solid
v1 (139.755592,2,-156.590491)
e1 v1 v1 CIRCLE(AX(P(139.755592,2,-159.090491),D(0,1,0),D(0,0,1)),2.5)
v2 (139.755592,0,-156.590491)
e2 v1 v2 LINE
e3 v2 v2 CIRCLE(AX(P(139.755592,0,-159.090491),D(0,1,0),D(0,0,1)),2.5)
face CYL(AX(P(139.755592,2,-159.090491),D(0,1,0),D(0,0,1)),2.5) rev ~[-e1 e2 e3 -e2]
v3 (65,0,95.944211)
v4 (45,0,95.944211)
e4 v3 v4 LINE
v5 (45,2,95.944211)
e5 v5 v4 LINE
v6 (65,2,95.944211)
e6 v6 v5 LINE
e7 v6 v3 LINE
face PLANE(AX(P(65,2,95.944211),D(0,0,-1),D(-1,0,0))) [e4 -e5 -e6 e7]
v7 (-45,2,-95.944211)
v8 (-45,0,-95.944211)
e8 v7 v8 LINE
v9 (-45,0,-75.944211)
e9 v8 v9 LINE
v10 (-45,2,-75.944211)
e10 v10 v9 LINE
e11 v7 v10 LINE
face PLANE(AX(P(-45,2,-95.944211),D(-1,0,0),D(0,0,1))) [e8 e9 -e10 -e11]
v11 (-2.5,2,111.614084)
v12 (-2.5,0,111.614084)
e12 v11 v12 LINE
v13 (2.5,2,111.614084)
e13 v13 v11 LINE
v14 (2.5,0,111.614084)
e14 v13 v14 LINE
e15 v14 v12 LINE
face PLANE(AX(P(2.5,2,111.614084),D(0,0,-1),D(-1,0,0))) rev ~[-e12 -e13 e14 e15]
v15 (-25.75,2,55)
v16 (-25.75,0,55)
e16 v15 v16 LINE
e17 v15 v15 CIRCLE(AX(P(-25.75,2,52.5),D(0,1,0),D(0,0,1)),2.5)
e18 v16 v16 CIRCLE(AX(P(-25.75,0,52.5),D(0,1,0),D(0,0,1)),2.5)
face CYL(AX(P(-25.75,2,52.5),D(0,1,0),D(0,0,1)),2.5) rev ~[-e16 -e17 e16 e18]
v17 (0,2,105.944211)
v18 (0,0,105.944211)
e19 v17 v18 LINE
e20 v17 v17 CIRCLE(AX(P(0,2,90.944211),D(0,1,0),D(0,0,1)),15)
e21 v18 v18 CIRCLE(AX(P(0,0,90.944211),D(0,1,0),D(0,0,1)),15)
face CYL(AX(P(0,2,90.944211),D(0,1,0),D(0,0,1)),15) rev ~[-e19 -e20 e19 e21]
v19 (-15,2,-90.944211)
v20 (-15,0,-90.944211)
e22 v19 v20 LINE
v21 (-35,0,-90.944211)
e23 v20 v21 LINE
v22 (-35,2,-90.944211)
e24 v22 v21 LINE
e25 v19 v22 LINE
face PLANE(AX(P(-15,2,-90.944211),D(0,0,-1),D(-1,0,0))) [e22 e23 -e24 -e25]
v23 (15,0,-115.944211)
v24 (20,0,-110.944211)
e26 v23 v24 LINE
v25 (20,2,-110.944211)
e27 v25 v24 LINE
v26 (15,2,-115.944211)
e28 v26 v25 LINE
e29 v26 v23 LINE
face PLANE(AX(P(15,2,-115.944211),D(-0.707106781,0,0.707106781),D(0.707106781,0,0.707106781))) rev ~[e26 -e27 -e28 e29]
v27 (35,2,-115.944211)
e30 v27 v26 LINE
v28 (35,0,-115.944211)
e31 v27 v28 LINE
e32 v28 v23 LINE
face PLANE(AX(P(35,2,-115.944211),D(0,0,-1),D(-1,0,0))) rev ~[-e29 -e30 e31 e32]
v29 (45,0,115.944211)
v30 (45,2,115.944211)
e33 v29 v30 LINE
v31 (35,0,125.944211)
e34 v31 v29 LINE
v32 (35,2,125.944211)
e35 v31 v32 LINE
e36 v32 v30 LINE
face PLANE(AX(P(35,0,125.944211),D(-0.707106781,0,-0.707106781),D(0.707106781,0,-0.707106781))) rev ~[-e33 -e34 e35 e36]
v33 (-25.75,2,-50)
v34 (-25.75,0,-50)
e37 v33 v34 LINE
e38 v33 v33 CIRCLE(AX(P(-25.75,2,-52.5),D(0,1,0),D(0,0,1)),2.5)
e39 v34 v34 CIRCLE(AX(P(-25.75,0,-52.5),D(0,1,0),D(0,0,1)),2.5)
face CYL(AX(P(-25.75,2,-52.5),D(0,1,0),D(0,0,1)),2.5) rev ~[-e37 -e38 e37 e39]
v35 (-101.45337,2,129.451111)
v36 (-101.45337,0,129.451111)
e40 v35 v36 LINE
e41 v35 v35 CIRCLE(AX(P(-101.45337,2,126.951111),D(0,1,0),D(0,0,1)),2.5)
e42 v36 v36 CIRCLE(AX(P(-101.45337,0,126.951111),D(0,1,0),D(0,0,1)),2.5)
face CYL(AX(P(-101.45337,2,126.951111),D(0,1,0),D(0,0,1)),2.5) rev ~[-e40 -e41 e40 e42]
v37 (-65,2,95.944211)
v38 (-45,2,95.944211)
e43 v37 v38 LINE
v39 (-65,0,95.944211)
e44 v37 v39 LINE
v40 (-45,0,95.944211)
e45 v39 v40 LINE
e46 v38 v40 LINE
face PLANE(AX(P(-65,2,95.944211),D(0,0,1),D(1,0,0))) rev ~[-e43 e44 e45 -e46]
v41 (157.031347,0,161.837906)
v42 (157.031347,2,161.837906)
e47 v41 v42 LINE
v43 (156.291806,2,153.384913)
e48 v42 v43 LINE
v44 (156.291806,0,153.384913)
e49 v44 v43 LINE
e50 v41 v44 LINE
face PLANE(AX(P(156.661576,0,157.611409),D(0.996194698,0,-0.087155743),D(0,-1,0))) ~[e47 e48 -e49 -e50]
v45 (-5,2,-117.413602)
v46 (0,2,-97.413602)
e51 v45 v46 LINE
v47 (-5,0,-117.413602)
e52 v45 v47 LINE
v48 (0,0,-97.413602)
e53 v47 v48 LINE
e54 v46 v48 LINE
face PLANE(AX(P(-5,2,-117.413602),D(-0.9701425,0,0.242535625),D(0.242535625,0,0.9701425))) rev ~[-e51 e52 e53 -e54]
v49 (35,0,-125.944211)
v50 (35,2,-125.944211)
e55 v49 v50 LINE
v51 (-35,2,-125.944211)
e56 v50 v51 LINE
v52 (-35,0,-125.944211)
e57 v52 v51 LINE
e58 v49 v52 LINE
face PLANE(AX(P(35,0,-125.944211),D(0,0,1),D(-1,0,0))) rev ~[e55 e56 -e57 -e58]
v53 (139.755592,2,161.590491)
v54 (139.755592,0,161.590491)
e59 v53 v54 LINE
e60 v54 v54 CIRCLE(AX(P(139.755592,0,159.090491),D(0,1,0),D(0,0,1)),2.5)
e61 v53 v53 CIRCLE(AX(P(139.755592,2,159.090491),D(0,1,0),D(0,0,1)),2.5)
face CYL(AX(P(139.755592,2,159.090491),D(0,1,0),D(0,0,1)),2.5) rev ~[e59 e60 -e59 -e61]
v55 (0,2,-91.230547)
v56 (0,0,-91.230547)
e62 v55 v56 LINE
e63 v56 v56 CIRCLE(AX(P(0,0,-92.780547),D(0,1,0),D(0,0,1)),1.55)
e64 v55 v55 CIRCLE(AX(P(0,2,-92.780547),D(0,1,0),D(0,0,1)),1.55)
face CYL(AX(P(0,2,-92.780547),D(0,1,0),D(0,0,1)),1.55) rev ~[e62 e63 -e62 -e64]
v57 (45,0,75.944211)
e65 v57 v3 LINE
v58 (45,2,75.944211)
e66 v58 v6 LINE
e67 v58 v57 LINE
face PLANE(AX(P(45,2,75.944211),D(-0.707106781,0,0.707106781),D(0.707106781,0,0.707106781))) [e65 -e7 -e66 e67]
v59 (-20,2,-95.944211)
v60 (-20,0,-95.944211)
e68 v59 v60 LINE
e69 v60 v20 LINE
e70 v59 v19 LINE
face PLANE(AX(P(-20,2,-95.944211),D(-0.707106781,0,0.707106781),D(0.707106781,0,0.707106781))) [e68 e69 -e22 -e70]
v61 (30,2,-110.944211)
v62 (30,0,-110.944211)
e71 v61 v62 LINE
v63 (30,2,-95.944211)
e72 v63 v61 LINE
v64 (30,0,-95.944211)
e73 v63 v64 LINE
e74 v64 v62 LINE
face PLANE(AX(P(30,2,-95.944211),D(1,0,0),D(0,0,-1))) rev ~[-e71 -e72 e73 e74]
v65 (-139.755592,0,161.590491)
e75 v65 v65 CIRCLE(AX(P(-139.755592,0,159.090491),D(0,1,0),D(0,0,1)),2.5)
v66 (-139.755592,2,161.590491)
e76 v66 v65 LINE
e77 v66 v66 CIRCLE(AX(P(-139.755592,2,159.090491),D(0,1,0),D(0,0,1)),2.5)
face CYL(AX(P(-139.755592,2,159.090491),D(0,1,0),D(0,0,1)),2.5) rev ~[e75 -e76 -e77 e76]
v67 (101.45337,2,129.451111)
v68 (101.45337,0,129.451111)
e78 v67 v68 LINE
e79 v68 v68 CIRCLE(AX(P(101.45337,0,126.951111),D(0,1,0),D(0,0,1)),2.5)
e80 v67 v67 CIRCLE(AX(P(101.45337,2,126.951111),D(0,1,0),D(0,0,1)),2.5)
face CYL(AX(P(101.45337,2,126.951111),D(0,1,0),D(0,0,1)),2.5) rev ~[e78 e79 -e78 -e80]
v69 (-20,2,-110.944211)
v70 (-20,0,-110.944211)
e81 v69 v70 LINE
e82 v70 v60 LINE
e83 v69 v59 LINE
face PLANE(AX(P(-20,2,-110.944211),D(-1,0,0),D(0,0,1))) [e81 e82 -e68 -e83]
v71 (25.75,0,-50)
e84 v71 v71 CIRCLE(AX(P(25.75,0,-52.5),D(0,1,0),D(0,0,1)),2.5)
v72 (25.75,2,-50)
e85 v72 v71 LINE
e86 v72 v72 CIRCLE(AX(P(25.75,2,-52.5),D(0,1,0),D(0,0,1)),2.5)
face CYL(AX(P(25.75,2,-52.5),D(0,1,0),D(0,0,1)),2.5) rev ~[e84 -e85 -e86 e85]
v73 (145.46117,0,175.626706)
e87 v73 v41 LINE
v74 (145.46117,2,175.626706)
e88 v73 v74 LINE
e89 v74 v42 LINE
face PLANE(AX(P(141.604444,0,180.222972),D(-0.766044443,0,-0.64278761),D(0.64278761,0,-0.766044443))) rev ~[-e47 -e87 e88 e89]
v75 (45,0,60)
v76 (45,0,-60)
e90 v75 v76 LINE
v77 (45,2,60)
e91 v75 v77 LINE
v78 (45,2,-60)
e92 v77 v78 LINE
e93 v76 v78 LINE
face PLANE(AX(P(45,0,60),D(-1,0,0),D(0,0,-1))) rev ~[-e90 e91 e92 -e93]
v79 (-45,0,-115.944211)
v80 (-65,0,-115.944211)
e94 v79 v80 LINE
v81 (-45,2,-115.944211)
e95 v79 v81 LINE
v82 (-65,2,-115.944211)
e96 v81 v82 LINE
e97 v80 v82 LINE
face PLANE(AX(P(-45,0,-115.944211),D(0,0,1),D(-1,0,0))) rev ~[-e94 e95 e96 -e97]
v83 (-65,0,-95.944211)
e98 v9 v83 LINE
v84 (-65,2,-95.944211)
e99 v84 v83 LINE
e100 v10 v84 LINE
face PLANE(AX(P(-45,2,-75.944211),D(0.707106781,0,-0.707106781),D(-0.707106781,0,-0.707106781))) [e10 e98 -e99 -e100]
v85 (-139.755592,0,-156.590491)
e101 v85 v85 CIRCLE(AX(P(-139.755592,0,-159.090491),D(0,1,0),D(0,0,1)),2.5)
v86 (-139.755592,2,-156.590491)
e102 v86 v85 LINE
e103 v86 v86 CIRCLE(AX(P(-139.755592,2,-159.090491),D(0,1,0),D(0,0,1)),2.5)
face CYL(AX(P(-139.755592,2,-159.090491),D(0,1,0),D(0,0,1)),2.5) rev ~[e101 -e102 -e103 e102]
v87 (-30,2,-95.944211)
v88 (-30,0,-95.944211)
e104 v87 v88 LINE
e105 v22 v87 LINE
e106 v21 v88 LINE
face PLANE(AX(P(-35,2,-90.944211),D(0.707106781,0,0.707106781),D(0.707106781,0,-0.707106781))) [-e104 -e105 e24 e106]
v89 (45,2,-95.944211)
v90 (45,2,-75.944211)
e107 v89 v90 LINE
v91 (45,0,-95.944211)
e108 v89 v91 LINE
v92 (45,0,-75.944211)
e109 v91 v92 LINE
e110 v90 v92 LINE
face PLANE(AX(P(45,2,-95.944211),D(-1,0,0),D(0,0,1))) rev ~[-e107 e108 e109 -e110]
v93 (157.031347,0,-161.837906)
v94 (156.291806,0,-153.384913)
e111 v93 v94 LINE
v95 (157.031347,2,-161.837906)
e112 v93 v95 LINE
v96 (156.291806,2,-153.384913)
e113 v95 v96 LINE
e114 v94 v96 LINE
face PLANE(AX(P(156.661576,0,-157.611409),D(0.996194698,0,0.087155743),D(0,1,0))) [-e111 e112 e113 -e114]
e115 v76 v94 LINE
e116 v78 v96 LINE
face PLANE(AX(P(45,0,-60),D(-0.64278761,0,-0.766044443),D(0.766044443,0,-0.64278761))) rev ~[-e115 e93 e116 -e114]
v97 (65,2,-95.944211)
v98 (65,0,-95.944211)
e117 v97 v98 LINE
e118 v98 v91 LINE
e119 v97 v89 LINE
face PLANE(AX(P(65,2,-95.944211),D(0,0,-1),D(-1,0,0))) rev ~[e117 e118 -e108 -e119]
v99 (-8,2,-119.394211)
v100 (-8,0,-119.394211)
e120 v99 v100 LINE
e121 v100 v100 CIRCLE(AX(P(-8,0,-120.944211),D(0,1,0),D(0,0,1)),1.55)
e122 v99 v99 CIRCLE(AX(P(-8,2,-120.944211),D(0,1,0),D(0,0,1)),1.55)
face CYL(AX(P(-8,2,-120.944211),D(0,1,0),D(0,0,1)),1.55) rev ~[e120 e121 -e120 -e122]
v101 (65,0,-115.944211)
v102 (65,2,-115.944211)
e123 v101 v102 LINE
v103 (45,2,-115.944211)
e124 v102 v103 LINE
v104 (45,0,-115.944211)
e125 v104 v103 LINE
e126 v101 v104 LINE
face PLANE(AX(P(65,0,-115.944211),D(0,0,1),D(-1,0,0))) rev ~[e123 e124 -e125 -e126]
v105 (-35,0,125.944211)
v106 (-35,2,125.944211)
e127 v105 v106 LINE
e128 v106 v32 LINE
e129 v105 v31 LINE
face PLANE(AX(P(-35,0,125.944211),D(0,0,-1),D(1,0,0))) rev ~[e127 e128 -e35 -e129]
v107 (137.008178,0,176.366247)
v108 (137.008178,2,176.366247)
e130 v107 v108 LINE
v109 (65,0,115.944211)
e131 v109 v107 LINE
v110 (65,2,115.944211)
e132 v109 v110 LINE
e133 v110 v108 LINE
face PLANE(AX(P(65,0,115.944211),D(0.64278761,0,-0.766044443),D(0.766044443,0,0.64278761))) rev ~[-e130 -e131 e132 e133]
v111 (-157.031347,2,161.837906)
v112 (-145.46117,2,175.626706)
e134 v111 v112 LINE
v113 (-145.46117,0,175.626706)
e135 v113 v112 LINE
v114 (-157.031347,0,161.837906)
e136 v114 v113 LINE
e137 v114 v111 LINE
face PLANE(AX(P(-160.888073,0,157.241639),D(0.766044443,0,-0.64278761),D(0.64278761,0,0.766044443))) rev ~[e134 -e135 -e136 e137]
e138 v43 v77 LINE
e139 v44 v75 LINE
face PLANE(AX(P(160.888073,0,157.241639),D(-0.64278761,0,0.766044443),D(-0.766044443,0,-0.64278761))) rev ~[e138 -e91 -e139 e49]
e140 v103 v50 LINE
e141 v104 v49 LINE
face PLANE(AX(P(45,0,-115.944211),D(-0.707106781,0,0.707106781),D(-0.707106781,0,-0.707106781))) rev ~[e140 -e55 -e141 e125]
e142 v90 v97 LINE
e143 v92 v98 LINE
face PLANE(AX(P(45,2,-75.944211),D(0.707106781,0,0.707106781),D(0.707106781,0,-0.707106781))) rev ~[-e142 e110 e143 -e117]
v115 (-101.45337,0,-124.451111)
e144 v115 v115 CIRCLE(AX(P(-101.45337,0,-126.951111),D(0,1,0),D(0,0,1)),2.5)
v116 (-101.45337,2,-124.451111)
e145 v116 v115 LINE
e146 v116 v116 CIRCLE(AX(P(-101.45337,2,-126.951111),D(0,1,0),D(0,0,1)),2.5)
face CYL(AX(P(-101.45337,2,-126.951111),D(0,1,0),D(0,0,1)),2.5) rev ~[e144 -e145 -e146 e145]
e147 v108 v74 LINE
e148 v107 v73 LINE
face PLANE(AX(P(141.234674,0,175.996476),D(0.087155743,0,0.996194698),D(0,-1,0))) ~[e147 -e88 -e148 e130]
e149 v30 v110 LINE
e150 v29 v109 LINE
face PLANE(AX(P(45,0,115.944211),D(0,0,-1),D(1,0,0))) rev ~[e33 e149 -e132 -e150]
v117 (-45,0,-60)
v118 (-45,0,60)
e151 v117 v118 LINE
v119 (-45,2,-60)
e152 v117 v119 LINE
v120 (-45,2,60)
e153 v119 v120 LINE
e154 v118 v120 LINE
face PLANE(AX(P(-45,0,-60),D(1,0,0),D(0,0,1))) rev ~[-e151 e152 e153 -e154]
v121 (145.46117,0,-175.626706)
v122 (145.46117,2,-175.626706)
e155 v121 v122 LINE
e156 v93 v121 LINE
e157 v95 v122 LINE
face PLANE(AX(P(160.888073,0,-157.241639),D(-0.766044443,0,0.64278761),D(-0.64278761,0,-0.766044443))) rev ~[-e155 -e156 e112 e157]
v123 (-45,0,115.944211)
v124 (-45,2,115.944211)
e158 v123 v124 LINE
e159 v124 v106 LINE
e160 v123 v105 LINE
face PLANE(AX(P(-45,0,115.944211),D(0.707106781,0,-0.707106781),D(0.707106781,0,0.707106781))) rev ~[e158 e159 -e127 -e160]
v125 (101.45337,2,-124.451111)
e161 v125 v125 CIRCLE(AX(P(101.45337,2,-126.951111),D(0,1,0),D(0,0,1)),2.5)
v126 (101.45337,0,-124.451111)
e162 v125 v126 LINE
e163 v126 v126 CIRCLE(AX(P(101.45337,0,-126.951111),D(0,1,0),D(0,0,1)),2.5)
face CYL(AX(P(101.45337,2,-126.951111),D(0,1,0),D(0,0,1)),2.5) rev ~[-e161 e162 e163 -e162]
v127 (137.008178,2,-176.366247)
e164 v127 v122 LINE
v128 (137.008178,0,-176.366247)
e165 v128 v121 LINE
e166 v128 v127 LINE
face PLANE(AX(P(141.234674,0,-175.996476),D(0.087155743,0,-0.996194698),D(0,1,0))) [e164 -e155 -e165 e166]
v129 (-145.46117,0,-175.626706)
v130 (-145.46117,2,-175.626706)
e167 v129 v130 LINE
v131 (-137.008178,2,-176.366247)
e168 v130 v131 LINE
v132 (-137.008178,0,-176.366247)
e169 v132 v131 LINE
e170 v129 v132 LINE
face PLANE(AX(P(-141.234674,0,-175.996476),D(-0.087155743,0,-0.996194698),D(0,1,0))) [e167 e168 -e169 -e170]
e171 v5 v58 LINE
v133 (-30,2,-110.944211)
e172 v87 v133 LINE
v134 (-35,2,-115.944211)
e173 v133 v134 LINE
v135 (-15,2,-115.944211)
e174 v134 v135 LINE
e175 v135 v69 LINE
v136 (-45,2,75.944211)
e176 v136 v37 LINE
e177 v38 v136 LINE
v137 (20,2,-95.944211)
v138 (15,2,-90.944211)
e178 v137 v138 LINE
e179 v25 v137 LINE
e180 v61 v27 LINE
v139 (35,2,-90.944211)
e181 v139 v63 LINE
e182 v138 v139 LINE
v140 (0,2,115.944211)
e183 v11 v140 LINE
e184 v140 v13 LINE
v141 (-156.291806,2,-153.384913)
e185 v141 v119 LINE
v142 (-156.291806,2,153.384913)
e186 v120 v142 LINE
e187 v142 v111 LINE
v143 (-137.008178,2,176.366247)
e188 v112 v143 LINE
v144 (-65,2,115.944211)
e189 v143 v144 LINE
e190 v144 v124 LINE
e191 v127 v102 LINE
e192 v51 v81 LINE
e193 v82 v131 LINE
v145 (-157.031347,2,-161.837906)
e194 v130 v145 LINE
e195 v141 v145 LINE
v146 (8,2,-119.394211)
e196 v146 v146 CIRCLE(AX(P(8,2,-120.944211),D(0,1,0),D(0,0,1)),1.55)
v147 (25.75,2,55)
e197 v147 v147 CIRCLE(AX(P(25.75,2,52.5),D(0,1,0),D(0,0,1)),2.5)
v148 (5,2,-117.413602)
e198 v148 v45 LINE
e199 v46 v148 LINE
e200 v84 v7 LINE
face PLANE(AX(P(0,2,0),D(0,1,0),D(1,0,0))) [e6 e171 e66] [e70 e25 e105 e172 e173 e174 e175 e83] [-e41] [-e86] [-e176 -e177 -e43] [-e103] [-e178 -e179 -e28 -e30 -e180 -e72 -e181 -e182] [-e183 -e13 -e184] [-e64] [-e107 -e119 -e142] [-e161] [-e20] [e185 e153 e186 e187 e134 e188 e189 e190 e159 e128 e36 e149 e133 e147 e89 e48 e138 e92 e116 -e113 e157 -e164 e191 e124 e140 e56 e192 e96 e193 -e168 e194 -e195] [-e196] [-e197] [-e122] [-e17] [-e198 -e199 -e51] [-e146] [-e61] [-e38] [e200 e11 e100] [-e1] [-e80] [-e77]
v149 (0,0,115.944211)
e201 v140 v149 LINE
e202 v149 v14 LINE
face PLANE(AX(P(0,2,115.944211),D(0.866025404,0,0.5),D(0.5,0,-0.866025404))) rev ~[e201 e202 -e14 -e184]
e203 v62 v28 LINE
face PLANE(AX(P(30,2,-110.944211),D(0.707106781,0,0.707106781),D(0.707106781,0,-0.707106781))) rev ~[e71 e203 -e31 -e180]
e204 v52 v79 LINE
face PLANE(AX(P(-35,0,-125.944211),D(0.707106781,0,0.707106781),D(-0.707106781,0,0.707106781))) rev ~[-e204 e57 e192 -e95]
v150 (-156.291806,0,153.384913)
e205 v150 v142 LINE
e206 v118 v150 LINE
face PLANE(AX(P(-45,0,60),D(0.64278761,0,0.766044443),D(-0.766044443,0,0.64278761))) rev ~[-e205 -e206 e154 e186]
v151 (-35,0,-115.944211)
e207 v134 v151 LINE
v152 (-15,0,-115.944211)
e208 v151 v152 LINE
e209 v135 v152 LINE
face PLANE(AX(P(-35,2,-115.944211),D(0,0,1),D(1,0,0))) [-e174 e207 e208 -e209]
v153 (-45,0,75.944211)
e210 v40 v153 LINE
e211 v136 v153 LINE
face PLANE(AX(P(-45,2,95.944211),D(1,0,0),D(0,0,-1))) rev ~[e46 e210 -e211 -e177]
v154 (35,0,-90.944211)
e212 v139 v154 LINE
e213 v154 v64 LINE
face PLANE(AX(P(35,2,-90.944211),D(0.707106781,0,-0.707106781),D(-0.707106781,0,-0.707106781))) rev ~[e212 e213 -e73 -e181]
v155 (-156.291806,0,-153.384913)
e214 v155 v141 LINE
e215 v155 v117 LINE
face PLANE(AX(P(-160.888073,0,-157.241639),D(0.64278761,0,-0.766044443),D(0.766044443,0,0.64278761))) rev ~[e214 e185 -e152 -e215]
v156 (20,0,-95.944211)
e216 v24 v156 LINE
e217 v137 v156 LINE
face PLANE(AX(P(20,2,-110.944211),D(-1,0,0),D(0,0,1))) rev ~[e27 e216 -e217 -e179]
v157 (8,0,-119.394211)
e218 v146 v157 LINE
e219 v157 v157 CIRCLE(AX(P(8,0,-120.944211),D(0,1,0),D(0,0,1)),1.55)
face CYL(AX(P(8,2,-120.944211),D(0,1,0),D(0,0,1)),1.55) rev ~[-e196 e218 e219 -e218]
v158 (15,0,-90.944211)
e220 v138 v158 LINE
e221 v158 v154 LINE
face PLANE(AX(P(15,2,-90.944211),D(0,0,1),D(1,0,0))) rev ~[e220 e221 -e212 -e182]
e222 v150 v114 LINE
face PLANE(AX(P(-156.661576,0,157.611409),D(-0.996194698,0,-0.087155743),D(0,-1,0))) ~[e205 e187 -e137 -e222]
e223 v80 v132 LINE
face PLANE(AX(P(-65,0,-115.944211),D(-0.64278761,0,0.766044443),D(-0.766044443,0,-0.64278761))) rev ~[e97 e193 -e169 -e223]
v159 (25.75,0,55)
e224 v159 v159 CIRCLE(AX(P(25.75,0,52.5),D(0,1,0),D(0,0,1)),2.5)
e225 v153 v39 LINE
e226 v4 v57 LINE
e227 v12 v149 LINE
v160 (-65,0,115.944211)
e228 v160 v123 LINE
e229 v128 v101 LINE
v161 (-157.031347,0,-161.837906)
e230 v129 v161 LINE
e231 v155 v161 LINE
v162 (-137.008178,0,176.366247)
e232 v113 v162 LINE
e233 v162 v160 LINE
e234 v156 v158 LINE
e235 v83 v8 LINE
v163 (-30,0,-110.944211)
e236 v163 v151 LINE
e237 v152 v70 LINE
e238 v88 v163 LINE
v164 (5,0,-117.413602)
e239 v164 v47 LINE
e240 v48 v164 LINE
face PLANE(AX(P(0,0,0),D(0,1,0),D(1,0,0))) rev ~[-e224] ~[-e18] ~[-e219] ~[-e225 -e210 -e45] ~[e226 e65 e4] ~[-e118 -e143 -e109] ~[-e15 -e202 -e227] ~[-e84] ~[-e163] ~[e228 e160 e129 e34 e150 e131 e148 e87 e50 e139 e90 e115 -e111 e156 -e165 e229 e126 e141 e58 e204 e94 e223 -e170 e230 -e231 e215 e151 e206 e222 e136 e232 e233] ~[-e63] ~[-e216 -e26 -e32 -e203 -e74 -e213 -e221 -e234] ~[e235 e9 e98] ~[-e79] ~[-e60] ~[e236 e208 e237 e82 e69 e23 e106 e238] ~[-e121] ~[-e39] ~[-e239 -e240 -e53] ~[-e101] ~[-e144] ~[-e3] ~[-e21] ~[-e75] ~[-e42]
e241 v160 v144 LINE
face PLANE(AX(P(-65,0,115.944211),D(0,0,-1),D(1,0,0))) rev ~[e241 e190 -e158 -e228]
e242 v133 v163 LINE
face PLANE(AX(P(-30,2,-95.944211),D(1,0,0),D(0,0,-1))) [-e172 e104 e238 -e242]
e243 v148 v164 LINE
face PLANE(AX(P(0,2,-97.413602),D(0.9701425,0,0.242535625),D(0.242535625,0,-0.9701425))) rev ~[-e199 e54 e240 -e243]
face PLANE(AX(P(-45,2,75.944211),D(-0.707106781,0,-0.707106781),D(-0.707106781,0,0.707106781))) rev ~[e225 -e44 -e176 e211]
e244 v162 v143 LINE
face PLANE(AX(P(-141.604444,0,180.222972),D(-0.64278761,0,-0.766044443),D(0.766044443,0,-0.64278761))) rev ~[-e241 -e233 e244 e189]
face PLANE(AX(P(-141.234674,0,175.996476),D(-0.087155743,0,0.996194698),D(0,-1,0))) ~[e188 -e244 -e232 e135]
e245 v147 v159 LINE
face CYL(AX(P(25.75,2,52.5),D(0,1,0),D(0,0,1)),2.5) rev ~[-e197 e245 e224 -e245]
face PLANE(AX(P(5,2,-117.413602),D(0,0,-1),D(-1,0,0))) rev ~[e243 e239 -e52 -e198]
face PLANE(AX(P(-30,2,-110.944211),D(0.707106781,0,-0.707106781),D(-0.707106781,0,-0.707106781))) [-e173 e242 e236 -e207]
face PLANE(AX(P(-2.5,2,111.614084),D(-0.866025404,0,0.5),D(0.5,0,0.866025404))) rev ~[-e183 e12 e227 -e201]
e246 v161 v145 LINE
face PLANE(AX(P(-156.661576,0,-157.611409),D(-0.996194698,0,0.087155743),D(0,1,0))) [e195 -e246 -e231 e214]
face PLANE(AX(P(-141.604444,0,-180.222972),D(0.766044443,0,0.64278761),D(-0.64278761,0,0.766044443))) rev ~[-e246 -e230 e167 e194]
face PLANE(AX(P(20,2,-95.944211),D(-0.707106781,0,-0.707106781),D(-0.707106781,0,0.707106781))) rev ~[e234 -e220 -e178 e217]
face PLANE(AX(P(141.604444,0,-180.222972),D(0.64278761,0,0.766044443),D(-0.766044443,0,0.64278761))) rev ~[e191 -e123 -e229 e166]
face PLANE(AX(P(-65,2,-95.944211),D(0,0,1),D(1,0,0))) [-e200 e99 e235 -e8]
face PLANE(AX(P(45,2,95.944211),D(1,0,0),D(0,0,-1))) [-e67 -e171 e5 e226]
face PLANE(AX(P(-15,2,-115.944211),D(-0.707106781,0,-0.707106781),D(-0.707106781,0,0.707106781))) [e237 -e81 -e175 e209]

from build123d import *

# Parameters (mm, degrees)
Y_KSEKLIK_EKSTR_ZYON2_DEPTH = 2
KES_EKSTR_ZYON2_DEPTH       = 2
KES_EKSTR_ZYON3_DEPTH       = 20
PAH1_SIZE                   = 6
IZIM6_R                     = 2.5
KES_EKSTR_ZYON4_DEPTH       = 20
IZIM7_R                     = 1.55
KES_EKSTR_ZYON5_DEPTH       = 10
IZIM8_R                     = 15
KES_EKSTR_ZYON6_DEPTH       = 2
KES_EKSTR_ZYON7_DEPTH       = 10
KES_EKSTR_ZYON8_DEPTH       = 10
IZIM11_R                    = 2.5
KES_EKSTR_ZYON9_DEPTH       = 10


with BuildPart() as part:
    # Çizim2 → Yükseklik-Ekstrüzyon2 (new body)
    with BuildSketch(Plane(origin=(0, 0, 0), x_dir=(1, 0, 0), z_dir=(0, 1, 0))):
        Polygon((-160.888072602, 157.241638979), (-45, 60), (-45, -60), (-160.888072602, -157.241638979), (-141.604444312, -180.222972272), (-65, -115.944211304), (-45, -115.944211304), (-35, -125.944211304), (35, -125.944211304), (45, -115.944211304), (65, -115.944211304), (141.604444312, -180.222972272), (160.888072602, -157.241638979), (45, -60), (45, 60), (160.888072602, 157.241638979), (141.604444312, 180.222972272), (65, 115.944211304), (45, 115.944211304), (35, 125.944211304), (-35, 125.944211304), (-45, 115.944211304), (-65, 115.944211304), (-141.604444312, 180.222972272), align=None)
    extrude(amount=Y_KSEKLIK_EKSTR_ZYON2_DEPTH)

    # Çizim4 → Kes-Ekstrüzyon2 (cut)
    with BuildSketch(Plane(origin=(0, 2, 0), x_dir=(1, 0, 0), z_dir=(0, 1, 0))):
        Polygon((-2.5, -111.614084285), (0, -115.944211304), (2.5, -111.614084285), align=None)
    extrude(amount=-KES_EKSTR_ZYON2_DEPTH, mode=Mode.SUBTRACT)

    # Çizim5 → Kes-Ekstrüzyon3 (cut)
    with BuildSketch(Plane(origin=(0, 2, 0), x_dir=(1, 0, 0), z_dir=(0, 1, 0))):
        Polygon((-65, 95.944211304), (-45, 95.944211304), (-45, 75.944211304), align=None)
        Polygon((45, 75.944211304), (65, 95.944211304), (45, 95.944211304), align=None)
        Polygon((65, -95.944211304), (45, -95.944211304), (45, -75.944211304), align=None)
        Polygon((-45, -75.944211304), (-65, -95.944211304), (-45, -95.944211304), align=None)
    extrude(amount=-KES_EKSTR_ZYON3_DEPTH, mode=Mode.SUBTRACT)

    # Pah1
    pah1_edges = [part.edges().sort_by_distance(p)[0] for p in [
        (-160.888072602, 1, -157.241638979),
        (-141.604444312, 1, -180.222972272),
        (141.604444312, 1, -180.222972272),
        (160.888072602, 1, -157.241638979),
        (160.888072602, 1, 157.241638979),
        (141.604444312, 1, 180.222972272),
        (-141.604444312, 1, 180.222972272),
        (-160.888072602, 1, 157.241638979),
    ]]
    chamfer(pah1_edges, length=PAH1_SIZE)

    # Çizim6 → Kes-Ekstrüzyon4 (cut)
    with BuildSketch(Plane(origin=(0, 2, 0), x_dir=(1, 0, 0), z_dir=(0, 1, 0))):
        with Locations(Location((-139.75559181, 159.09049148, 0), (0, 0, 270))):
            Circle(IZIM6_R)
        with Locations(Location((-101.453369654, 126.951110996, 0), (0, 0, 270))):
            Circle(IZIM6_R)
        with Locations(Location((101.453369654, 126.951110996, 0), (0, 0, 270))):
            Circle(IZIM6_R)
        with Locations(Location((139.75559181, 159.09049148, 0), (0, 0, 270))):
            Circle(IZIM6_R)
        with Locations(Location((101.453369654, -126.951110996, 0), (0, 0, 270))):
            Circle(IZIM6_R)
        with Locations(Location((139.75559181, -159.09049148, 0), (0, 0, 270))):
            Circle(IZIM6_R)
        with Locations(Location((-101.453369654, -126.951110996, 0), (0, 0, 270))):
            Circle(IZIM6_R)
        with Locations(Location((-139.75559181, -159.09049148, 0), (0, 0, 270))):
            Circle(IZIM6_R)
    extrude(amount=-KES_EKSTR_ZYON4_DEPTH, mode=Mode.SUBTRACT)

    # Çizim7 → Kes-Ekstrüzyon5 (cut)
    with BuildSketch(Plane(origin=(0, 2, 0), x_dir=(1, 0, 0), z_dir=(0, 1, 0))):
        with Locations(Location((-8, 120.944211304, 0), (0, 0, 270))):
            Circle(IZIM7_R)
        with Locations(Location((8, 120.944211304, 0), (0, 0, 270))):
            Circle(IZIM7_R)
        with Locations(Location((0, 92.780546714, 0), (0, 0, 270))):
            Circle(IZIM7_R)
    extrude(amount=-KES_EKSTR_ZYON5_DEPTH, mode=Mode.SUBTRACT)

    # Çizim8 → Kes-Ekstrüzyon6 (cut)
    with BuildSketch(Plane(origin=(0, 2, 0), x_dir=(1, 0, 0), z_dir=(0, 1, 0))):
        with Locations(Location((0, -90.944211304, 0), (0, 0, 270))):
            Circle(IZIM8_R)
    extrude(amount=-KES_EKSTR_ZYON6_DEPTH, mode=Mode.SUBTRACT)

    # Çizim9 → Kes-Ekstrüzyon7 (cut)
    with BuildSketch(Plane(origin=(0, 2, 0), x_dir=(1, 0, 0), z_dir=(0, 1, 0))):
        Polygon((-35, 115.944211304), (-15, 115.944211304), (-20, 110.944211304), (-20, 95.944211304), (-15, 90.944211304), (-35, 90.944211304), (-30, 95.944211304), (-30, 110.944211304), align=None)
        Polygon((30, 110.944211304), (35, 115.944211304), (15, 115.944211304), (20, 110.944211304), (20, 95.944211304), (15, 90.944211304), (35, 90.944211304), (30, 95.944211304), align=None)
    extrude(amount=-KES_EKSTR_ZYON7_DEPTH, mode=Mode.SUBTRACT)

    # Çizim10 → Kes-Ekstrüzyon8 (cut)
    with BuildSketch(Plane(origin=(0, 2, 0), x_dir=(1, 0, 0), z_dir=(0, 1, 0))):
        Polygon((-5, 117.413602047), (0, 97.413602047), (5, 117.413602047), align=None)
    extrude(amount=-KES_EKSTR_ZYON8_DEPTH, mode=Mode.SUBTRACT)

    # Çizim11 → Kes-Ekstrüzyon9 (cut)
    with BuildSketch(Plane(origin=(0, 2, 0), x_dir=(1, 0, 0), z_dir=(0, 1, 0))):
        with Locations(Location((25.75, -52.5, 0), (0, 0, 270))):
            Circle(IZIM11_R)
        with Locations(Location((-25.75, -52.5, 0), (0, 0, 270))):
            Circle(IZIM11_R)
        with Locations(Location((-25.75, 52.5, 0), (0, 0, 270))):
            Circle(IZIM11_R)
        with Locations(Location((25.75, 52.5, 0), (0, 0, 270))):
            Circle(IZIM11_R)
    extrude(amount=-KES_EKSTR_ZYON9_DEPTH, mode=Mode.SUBTRACT)


solid = part.part
